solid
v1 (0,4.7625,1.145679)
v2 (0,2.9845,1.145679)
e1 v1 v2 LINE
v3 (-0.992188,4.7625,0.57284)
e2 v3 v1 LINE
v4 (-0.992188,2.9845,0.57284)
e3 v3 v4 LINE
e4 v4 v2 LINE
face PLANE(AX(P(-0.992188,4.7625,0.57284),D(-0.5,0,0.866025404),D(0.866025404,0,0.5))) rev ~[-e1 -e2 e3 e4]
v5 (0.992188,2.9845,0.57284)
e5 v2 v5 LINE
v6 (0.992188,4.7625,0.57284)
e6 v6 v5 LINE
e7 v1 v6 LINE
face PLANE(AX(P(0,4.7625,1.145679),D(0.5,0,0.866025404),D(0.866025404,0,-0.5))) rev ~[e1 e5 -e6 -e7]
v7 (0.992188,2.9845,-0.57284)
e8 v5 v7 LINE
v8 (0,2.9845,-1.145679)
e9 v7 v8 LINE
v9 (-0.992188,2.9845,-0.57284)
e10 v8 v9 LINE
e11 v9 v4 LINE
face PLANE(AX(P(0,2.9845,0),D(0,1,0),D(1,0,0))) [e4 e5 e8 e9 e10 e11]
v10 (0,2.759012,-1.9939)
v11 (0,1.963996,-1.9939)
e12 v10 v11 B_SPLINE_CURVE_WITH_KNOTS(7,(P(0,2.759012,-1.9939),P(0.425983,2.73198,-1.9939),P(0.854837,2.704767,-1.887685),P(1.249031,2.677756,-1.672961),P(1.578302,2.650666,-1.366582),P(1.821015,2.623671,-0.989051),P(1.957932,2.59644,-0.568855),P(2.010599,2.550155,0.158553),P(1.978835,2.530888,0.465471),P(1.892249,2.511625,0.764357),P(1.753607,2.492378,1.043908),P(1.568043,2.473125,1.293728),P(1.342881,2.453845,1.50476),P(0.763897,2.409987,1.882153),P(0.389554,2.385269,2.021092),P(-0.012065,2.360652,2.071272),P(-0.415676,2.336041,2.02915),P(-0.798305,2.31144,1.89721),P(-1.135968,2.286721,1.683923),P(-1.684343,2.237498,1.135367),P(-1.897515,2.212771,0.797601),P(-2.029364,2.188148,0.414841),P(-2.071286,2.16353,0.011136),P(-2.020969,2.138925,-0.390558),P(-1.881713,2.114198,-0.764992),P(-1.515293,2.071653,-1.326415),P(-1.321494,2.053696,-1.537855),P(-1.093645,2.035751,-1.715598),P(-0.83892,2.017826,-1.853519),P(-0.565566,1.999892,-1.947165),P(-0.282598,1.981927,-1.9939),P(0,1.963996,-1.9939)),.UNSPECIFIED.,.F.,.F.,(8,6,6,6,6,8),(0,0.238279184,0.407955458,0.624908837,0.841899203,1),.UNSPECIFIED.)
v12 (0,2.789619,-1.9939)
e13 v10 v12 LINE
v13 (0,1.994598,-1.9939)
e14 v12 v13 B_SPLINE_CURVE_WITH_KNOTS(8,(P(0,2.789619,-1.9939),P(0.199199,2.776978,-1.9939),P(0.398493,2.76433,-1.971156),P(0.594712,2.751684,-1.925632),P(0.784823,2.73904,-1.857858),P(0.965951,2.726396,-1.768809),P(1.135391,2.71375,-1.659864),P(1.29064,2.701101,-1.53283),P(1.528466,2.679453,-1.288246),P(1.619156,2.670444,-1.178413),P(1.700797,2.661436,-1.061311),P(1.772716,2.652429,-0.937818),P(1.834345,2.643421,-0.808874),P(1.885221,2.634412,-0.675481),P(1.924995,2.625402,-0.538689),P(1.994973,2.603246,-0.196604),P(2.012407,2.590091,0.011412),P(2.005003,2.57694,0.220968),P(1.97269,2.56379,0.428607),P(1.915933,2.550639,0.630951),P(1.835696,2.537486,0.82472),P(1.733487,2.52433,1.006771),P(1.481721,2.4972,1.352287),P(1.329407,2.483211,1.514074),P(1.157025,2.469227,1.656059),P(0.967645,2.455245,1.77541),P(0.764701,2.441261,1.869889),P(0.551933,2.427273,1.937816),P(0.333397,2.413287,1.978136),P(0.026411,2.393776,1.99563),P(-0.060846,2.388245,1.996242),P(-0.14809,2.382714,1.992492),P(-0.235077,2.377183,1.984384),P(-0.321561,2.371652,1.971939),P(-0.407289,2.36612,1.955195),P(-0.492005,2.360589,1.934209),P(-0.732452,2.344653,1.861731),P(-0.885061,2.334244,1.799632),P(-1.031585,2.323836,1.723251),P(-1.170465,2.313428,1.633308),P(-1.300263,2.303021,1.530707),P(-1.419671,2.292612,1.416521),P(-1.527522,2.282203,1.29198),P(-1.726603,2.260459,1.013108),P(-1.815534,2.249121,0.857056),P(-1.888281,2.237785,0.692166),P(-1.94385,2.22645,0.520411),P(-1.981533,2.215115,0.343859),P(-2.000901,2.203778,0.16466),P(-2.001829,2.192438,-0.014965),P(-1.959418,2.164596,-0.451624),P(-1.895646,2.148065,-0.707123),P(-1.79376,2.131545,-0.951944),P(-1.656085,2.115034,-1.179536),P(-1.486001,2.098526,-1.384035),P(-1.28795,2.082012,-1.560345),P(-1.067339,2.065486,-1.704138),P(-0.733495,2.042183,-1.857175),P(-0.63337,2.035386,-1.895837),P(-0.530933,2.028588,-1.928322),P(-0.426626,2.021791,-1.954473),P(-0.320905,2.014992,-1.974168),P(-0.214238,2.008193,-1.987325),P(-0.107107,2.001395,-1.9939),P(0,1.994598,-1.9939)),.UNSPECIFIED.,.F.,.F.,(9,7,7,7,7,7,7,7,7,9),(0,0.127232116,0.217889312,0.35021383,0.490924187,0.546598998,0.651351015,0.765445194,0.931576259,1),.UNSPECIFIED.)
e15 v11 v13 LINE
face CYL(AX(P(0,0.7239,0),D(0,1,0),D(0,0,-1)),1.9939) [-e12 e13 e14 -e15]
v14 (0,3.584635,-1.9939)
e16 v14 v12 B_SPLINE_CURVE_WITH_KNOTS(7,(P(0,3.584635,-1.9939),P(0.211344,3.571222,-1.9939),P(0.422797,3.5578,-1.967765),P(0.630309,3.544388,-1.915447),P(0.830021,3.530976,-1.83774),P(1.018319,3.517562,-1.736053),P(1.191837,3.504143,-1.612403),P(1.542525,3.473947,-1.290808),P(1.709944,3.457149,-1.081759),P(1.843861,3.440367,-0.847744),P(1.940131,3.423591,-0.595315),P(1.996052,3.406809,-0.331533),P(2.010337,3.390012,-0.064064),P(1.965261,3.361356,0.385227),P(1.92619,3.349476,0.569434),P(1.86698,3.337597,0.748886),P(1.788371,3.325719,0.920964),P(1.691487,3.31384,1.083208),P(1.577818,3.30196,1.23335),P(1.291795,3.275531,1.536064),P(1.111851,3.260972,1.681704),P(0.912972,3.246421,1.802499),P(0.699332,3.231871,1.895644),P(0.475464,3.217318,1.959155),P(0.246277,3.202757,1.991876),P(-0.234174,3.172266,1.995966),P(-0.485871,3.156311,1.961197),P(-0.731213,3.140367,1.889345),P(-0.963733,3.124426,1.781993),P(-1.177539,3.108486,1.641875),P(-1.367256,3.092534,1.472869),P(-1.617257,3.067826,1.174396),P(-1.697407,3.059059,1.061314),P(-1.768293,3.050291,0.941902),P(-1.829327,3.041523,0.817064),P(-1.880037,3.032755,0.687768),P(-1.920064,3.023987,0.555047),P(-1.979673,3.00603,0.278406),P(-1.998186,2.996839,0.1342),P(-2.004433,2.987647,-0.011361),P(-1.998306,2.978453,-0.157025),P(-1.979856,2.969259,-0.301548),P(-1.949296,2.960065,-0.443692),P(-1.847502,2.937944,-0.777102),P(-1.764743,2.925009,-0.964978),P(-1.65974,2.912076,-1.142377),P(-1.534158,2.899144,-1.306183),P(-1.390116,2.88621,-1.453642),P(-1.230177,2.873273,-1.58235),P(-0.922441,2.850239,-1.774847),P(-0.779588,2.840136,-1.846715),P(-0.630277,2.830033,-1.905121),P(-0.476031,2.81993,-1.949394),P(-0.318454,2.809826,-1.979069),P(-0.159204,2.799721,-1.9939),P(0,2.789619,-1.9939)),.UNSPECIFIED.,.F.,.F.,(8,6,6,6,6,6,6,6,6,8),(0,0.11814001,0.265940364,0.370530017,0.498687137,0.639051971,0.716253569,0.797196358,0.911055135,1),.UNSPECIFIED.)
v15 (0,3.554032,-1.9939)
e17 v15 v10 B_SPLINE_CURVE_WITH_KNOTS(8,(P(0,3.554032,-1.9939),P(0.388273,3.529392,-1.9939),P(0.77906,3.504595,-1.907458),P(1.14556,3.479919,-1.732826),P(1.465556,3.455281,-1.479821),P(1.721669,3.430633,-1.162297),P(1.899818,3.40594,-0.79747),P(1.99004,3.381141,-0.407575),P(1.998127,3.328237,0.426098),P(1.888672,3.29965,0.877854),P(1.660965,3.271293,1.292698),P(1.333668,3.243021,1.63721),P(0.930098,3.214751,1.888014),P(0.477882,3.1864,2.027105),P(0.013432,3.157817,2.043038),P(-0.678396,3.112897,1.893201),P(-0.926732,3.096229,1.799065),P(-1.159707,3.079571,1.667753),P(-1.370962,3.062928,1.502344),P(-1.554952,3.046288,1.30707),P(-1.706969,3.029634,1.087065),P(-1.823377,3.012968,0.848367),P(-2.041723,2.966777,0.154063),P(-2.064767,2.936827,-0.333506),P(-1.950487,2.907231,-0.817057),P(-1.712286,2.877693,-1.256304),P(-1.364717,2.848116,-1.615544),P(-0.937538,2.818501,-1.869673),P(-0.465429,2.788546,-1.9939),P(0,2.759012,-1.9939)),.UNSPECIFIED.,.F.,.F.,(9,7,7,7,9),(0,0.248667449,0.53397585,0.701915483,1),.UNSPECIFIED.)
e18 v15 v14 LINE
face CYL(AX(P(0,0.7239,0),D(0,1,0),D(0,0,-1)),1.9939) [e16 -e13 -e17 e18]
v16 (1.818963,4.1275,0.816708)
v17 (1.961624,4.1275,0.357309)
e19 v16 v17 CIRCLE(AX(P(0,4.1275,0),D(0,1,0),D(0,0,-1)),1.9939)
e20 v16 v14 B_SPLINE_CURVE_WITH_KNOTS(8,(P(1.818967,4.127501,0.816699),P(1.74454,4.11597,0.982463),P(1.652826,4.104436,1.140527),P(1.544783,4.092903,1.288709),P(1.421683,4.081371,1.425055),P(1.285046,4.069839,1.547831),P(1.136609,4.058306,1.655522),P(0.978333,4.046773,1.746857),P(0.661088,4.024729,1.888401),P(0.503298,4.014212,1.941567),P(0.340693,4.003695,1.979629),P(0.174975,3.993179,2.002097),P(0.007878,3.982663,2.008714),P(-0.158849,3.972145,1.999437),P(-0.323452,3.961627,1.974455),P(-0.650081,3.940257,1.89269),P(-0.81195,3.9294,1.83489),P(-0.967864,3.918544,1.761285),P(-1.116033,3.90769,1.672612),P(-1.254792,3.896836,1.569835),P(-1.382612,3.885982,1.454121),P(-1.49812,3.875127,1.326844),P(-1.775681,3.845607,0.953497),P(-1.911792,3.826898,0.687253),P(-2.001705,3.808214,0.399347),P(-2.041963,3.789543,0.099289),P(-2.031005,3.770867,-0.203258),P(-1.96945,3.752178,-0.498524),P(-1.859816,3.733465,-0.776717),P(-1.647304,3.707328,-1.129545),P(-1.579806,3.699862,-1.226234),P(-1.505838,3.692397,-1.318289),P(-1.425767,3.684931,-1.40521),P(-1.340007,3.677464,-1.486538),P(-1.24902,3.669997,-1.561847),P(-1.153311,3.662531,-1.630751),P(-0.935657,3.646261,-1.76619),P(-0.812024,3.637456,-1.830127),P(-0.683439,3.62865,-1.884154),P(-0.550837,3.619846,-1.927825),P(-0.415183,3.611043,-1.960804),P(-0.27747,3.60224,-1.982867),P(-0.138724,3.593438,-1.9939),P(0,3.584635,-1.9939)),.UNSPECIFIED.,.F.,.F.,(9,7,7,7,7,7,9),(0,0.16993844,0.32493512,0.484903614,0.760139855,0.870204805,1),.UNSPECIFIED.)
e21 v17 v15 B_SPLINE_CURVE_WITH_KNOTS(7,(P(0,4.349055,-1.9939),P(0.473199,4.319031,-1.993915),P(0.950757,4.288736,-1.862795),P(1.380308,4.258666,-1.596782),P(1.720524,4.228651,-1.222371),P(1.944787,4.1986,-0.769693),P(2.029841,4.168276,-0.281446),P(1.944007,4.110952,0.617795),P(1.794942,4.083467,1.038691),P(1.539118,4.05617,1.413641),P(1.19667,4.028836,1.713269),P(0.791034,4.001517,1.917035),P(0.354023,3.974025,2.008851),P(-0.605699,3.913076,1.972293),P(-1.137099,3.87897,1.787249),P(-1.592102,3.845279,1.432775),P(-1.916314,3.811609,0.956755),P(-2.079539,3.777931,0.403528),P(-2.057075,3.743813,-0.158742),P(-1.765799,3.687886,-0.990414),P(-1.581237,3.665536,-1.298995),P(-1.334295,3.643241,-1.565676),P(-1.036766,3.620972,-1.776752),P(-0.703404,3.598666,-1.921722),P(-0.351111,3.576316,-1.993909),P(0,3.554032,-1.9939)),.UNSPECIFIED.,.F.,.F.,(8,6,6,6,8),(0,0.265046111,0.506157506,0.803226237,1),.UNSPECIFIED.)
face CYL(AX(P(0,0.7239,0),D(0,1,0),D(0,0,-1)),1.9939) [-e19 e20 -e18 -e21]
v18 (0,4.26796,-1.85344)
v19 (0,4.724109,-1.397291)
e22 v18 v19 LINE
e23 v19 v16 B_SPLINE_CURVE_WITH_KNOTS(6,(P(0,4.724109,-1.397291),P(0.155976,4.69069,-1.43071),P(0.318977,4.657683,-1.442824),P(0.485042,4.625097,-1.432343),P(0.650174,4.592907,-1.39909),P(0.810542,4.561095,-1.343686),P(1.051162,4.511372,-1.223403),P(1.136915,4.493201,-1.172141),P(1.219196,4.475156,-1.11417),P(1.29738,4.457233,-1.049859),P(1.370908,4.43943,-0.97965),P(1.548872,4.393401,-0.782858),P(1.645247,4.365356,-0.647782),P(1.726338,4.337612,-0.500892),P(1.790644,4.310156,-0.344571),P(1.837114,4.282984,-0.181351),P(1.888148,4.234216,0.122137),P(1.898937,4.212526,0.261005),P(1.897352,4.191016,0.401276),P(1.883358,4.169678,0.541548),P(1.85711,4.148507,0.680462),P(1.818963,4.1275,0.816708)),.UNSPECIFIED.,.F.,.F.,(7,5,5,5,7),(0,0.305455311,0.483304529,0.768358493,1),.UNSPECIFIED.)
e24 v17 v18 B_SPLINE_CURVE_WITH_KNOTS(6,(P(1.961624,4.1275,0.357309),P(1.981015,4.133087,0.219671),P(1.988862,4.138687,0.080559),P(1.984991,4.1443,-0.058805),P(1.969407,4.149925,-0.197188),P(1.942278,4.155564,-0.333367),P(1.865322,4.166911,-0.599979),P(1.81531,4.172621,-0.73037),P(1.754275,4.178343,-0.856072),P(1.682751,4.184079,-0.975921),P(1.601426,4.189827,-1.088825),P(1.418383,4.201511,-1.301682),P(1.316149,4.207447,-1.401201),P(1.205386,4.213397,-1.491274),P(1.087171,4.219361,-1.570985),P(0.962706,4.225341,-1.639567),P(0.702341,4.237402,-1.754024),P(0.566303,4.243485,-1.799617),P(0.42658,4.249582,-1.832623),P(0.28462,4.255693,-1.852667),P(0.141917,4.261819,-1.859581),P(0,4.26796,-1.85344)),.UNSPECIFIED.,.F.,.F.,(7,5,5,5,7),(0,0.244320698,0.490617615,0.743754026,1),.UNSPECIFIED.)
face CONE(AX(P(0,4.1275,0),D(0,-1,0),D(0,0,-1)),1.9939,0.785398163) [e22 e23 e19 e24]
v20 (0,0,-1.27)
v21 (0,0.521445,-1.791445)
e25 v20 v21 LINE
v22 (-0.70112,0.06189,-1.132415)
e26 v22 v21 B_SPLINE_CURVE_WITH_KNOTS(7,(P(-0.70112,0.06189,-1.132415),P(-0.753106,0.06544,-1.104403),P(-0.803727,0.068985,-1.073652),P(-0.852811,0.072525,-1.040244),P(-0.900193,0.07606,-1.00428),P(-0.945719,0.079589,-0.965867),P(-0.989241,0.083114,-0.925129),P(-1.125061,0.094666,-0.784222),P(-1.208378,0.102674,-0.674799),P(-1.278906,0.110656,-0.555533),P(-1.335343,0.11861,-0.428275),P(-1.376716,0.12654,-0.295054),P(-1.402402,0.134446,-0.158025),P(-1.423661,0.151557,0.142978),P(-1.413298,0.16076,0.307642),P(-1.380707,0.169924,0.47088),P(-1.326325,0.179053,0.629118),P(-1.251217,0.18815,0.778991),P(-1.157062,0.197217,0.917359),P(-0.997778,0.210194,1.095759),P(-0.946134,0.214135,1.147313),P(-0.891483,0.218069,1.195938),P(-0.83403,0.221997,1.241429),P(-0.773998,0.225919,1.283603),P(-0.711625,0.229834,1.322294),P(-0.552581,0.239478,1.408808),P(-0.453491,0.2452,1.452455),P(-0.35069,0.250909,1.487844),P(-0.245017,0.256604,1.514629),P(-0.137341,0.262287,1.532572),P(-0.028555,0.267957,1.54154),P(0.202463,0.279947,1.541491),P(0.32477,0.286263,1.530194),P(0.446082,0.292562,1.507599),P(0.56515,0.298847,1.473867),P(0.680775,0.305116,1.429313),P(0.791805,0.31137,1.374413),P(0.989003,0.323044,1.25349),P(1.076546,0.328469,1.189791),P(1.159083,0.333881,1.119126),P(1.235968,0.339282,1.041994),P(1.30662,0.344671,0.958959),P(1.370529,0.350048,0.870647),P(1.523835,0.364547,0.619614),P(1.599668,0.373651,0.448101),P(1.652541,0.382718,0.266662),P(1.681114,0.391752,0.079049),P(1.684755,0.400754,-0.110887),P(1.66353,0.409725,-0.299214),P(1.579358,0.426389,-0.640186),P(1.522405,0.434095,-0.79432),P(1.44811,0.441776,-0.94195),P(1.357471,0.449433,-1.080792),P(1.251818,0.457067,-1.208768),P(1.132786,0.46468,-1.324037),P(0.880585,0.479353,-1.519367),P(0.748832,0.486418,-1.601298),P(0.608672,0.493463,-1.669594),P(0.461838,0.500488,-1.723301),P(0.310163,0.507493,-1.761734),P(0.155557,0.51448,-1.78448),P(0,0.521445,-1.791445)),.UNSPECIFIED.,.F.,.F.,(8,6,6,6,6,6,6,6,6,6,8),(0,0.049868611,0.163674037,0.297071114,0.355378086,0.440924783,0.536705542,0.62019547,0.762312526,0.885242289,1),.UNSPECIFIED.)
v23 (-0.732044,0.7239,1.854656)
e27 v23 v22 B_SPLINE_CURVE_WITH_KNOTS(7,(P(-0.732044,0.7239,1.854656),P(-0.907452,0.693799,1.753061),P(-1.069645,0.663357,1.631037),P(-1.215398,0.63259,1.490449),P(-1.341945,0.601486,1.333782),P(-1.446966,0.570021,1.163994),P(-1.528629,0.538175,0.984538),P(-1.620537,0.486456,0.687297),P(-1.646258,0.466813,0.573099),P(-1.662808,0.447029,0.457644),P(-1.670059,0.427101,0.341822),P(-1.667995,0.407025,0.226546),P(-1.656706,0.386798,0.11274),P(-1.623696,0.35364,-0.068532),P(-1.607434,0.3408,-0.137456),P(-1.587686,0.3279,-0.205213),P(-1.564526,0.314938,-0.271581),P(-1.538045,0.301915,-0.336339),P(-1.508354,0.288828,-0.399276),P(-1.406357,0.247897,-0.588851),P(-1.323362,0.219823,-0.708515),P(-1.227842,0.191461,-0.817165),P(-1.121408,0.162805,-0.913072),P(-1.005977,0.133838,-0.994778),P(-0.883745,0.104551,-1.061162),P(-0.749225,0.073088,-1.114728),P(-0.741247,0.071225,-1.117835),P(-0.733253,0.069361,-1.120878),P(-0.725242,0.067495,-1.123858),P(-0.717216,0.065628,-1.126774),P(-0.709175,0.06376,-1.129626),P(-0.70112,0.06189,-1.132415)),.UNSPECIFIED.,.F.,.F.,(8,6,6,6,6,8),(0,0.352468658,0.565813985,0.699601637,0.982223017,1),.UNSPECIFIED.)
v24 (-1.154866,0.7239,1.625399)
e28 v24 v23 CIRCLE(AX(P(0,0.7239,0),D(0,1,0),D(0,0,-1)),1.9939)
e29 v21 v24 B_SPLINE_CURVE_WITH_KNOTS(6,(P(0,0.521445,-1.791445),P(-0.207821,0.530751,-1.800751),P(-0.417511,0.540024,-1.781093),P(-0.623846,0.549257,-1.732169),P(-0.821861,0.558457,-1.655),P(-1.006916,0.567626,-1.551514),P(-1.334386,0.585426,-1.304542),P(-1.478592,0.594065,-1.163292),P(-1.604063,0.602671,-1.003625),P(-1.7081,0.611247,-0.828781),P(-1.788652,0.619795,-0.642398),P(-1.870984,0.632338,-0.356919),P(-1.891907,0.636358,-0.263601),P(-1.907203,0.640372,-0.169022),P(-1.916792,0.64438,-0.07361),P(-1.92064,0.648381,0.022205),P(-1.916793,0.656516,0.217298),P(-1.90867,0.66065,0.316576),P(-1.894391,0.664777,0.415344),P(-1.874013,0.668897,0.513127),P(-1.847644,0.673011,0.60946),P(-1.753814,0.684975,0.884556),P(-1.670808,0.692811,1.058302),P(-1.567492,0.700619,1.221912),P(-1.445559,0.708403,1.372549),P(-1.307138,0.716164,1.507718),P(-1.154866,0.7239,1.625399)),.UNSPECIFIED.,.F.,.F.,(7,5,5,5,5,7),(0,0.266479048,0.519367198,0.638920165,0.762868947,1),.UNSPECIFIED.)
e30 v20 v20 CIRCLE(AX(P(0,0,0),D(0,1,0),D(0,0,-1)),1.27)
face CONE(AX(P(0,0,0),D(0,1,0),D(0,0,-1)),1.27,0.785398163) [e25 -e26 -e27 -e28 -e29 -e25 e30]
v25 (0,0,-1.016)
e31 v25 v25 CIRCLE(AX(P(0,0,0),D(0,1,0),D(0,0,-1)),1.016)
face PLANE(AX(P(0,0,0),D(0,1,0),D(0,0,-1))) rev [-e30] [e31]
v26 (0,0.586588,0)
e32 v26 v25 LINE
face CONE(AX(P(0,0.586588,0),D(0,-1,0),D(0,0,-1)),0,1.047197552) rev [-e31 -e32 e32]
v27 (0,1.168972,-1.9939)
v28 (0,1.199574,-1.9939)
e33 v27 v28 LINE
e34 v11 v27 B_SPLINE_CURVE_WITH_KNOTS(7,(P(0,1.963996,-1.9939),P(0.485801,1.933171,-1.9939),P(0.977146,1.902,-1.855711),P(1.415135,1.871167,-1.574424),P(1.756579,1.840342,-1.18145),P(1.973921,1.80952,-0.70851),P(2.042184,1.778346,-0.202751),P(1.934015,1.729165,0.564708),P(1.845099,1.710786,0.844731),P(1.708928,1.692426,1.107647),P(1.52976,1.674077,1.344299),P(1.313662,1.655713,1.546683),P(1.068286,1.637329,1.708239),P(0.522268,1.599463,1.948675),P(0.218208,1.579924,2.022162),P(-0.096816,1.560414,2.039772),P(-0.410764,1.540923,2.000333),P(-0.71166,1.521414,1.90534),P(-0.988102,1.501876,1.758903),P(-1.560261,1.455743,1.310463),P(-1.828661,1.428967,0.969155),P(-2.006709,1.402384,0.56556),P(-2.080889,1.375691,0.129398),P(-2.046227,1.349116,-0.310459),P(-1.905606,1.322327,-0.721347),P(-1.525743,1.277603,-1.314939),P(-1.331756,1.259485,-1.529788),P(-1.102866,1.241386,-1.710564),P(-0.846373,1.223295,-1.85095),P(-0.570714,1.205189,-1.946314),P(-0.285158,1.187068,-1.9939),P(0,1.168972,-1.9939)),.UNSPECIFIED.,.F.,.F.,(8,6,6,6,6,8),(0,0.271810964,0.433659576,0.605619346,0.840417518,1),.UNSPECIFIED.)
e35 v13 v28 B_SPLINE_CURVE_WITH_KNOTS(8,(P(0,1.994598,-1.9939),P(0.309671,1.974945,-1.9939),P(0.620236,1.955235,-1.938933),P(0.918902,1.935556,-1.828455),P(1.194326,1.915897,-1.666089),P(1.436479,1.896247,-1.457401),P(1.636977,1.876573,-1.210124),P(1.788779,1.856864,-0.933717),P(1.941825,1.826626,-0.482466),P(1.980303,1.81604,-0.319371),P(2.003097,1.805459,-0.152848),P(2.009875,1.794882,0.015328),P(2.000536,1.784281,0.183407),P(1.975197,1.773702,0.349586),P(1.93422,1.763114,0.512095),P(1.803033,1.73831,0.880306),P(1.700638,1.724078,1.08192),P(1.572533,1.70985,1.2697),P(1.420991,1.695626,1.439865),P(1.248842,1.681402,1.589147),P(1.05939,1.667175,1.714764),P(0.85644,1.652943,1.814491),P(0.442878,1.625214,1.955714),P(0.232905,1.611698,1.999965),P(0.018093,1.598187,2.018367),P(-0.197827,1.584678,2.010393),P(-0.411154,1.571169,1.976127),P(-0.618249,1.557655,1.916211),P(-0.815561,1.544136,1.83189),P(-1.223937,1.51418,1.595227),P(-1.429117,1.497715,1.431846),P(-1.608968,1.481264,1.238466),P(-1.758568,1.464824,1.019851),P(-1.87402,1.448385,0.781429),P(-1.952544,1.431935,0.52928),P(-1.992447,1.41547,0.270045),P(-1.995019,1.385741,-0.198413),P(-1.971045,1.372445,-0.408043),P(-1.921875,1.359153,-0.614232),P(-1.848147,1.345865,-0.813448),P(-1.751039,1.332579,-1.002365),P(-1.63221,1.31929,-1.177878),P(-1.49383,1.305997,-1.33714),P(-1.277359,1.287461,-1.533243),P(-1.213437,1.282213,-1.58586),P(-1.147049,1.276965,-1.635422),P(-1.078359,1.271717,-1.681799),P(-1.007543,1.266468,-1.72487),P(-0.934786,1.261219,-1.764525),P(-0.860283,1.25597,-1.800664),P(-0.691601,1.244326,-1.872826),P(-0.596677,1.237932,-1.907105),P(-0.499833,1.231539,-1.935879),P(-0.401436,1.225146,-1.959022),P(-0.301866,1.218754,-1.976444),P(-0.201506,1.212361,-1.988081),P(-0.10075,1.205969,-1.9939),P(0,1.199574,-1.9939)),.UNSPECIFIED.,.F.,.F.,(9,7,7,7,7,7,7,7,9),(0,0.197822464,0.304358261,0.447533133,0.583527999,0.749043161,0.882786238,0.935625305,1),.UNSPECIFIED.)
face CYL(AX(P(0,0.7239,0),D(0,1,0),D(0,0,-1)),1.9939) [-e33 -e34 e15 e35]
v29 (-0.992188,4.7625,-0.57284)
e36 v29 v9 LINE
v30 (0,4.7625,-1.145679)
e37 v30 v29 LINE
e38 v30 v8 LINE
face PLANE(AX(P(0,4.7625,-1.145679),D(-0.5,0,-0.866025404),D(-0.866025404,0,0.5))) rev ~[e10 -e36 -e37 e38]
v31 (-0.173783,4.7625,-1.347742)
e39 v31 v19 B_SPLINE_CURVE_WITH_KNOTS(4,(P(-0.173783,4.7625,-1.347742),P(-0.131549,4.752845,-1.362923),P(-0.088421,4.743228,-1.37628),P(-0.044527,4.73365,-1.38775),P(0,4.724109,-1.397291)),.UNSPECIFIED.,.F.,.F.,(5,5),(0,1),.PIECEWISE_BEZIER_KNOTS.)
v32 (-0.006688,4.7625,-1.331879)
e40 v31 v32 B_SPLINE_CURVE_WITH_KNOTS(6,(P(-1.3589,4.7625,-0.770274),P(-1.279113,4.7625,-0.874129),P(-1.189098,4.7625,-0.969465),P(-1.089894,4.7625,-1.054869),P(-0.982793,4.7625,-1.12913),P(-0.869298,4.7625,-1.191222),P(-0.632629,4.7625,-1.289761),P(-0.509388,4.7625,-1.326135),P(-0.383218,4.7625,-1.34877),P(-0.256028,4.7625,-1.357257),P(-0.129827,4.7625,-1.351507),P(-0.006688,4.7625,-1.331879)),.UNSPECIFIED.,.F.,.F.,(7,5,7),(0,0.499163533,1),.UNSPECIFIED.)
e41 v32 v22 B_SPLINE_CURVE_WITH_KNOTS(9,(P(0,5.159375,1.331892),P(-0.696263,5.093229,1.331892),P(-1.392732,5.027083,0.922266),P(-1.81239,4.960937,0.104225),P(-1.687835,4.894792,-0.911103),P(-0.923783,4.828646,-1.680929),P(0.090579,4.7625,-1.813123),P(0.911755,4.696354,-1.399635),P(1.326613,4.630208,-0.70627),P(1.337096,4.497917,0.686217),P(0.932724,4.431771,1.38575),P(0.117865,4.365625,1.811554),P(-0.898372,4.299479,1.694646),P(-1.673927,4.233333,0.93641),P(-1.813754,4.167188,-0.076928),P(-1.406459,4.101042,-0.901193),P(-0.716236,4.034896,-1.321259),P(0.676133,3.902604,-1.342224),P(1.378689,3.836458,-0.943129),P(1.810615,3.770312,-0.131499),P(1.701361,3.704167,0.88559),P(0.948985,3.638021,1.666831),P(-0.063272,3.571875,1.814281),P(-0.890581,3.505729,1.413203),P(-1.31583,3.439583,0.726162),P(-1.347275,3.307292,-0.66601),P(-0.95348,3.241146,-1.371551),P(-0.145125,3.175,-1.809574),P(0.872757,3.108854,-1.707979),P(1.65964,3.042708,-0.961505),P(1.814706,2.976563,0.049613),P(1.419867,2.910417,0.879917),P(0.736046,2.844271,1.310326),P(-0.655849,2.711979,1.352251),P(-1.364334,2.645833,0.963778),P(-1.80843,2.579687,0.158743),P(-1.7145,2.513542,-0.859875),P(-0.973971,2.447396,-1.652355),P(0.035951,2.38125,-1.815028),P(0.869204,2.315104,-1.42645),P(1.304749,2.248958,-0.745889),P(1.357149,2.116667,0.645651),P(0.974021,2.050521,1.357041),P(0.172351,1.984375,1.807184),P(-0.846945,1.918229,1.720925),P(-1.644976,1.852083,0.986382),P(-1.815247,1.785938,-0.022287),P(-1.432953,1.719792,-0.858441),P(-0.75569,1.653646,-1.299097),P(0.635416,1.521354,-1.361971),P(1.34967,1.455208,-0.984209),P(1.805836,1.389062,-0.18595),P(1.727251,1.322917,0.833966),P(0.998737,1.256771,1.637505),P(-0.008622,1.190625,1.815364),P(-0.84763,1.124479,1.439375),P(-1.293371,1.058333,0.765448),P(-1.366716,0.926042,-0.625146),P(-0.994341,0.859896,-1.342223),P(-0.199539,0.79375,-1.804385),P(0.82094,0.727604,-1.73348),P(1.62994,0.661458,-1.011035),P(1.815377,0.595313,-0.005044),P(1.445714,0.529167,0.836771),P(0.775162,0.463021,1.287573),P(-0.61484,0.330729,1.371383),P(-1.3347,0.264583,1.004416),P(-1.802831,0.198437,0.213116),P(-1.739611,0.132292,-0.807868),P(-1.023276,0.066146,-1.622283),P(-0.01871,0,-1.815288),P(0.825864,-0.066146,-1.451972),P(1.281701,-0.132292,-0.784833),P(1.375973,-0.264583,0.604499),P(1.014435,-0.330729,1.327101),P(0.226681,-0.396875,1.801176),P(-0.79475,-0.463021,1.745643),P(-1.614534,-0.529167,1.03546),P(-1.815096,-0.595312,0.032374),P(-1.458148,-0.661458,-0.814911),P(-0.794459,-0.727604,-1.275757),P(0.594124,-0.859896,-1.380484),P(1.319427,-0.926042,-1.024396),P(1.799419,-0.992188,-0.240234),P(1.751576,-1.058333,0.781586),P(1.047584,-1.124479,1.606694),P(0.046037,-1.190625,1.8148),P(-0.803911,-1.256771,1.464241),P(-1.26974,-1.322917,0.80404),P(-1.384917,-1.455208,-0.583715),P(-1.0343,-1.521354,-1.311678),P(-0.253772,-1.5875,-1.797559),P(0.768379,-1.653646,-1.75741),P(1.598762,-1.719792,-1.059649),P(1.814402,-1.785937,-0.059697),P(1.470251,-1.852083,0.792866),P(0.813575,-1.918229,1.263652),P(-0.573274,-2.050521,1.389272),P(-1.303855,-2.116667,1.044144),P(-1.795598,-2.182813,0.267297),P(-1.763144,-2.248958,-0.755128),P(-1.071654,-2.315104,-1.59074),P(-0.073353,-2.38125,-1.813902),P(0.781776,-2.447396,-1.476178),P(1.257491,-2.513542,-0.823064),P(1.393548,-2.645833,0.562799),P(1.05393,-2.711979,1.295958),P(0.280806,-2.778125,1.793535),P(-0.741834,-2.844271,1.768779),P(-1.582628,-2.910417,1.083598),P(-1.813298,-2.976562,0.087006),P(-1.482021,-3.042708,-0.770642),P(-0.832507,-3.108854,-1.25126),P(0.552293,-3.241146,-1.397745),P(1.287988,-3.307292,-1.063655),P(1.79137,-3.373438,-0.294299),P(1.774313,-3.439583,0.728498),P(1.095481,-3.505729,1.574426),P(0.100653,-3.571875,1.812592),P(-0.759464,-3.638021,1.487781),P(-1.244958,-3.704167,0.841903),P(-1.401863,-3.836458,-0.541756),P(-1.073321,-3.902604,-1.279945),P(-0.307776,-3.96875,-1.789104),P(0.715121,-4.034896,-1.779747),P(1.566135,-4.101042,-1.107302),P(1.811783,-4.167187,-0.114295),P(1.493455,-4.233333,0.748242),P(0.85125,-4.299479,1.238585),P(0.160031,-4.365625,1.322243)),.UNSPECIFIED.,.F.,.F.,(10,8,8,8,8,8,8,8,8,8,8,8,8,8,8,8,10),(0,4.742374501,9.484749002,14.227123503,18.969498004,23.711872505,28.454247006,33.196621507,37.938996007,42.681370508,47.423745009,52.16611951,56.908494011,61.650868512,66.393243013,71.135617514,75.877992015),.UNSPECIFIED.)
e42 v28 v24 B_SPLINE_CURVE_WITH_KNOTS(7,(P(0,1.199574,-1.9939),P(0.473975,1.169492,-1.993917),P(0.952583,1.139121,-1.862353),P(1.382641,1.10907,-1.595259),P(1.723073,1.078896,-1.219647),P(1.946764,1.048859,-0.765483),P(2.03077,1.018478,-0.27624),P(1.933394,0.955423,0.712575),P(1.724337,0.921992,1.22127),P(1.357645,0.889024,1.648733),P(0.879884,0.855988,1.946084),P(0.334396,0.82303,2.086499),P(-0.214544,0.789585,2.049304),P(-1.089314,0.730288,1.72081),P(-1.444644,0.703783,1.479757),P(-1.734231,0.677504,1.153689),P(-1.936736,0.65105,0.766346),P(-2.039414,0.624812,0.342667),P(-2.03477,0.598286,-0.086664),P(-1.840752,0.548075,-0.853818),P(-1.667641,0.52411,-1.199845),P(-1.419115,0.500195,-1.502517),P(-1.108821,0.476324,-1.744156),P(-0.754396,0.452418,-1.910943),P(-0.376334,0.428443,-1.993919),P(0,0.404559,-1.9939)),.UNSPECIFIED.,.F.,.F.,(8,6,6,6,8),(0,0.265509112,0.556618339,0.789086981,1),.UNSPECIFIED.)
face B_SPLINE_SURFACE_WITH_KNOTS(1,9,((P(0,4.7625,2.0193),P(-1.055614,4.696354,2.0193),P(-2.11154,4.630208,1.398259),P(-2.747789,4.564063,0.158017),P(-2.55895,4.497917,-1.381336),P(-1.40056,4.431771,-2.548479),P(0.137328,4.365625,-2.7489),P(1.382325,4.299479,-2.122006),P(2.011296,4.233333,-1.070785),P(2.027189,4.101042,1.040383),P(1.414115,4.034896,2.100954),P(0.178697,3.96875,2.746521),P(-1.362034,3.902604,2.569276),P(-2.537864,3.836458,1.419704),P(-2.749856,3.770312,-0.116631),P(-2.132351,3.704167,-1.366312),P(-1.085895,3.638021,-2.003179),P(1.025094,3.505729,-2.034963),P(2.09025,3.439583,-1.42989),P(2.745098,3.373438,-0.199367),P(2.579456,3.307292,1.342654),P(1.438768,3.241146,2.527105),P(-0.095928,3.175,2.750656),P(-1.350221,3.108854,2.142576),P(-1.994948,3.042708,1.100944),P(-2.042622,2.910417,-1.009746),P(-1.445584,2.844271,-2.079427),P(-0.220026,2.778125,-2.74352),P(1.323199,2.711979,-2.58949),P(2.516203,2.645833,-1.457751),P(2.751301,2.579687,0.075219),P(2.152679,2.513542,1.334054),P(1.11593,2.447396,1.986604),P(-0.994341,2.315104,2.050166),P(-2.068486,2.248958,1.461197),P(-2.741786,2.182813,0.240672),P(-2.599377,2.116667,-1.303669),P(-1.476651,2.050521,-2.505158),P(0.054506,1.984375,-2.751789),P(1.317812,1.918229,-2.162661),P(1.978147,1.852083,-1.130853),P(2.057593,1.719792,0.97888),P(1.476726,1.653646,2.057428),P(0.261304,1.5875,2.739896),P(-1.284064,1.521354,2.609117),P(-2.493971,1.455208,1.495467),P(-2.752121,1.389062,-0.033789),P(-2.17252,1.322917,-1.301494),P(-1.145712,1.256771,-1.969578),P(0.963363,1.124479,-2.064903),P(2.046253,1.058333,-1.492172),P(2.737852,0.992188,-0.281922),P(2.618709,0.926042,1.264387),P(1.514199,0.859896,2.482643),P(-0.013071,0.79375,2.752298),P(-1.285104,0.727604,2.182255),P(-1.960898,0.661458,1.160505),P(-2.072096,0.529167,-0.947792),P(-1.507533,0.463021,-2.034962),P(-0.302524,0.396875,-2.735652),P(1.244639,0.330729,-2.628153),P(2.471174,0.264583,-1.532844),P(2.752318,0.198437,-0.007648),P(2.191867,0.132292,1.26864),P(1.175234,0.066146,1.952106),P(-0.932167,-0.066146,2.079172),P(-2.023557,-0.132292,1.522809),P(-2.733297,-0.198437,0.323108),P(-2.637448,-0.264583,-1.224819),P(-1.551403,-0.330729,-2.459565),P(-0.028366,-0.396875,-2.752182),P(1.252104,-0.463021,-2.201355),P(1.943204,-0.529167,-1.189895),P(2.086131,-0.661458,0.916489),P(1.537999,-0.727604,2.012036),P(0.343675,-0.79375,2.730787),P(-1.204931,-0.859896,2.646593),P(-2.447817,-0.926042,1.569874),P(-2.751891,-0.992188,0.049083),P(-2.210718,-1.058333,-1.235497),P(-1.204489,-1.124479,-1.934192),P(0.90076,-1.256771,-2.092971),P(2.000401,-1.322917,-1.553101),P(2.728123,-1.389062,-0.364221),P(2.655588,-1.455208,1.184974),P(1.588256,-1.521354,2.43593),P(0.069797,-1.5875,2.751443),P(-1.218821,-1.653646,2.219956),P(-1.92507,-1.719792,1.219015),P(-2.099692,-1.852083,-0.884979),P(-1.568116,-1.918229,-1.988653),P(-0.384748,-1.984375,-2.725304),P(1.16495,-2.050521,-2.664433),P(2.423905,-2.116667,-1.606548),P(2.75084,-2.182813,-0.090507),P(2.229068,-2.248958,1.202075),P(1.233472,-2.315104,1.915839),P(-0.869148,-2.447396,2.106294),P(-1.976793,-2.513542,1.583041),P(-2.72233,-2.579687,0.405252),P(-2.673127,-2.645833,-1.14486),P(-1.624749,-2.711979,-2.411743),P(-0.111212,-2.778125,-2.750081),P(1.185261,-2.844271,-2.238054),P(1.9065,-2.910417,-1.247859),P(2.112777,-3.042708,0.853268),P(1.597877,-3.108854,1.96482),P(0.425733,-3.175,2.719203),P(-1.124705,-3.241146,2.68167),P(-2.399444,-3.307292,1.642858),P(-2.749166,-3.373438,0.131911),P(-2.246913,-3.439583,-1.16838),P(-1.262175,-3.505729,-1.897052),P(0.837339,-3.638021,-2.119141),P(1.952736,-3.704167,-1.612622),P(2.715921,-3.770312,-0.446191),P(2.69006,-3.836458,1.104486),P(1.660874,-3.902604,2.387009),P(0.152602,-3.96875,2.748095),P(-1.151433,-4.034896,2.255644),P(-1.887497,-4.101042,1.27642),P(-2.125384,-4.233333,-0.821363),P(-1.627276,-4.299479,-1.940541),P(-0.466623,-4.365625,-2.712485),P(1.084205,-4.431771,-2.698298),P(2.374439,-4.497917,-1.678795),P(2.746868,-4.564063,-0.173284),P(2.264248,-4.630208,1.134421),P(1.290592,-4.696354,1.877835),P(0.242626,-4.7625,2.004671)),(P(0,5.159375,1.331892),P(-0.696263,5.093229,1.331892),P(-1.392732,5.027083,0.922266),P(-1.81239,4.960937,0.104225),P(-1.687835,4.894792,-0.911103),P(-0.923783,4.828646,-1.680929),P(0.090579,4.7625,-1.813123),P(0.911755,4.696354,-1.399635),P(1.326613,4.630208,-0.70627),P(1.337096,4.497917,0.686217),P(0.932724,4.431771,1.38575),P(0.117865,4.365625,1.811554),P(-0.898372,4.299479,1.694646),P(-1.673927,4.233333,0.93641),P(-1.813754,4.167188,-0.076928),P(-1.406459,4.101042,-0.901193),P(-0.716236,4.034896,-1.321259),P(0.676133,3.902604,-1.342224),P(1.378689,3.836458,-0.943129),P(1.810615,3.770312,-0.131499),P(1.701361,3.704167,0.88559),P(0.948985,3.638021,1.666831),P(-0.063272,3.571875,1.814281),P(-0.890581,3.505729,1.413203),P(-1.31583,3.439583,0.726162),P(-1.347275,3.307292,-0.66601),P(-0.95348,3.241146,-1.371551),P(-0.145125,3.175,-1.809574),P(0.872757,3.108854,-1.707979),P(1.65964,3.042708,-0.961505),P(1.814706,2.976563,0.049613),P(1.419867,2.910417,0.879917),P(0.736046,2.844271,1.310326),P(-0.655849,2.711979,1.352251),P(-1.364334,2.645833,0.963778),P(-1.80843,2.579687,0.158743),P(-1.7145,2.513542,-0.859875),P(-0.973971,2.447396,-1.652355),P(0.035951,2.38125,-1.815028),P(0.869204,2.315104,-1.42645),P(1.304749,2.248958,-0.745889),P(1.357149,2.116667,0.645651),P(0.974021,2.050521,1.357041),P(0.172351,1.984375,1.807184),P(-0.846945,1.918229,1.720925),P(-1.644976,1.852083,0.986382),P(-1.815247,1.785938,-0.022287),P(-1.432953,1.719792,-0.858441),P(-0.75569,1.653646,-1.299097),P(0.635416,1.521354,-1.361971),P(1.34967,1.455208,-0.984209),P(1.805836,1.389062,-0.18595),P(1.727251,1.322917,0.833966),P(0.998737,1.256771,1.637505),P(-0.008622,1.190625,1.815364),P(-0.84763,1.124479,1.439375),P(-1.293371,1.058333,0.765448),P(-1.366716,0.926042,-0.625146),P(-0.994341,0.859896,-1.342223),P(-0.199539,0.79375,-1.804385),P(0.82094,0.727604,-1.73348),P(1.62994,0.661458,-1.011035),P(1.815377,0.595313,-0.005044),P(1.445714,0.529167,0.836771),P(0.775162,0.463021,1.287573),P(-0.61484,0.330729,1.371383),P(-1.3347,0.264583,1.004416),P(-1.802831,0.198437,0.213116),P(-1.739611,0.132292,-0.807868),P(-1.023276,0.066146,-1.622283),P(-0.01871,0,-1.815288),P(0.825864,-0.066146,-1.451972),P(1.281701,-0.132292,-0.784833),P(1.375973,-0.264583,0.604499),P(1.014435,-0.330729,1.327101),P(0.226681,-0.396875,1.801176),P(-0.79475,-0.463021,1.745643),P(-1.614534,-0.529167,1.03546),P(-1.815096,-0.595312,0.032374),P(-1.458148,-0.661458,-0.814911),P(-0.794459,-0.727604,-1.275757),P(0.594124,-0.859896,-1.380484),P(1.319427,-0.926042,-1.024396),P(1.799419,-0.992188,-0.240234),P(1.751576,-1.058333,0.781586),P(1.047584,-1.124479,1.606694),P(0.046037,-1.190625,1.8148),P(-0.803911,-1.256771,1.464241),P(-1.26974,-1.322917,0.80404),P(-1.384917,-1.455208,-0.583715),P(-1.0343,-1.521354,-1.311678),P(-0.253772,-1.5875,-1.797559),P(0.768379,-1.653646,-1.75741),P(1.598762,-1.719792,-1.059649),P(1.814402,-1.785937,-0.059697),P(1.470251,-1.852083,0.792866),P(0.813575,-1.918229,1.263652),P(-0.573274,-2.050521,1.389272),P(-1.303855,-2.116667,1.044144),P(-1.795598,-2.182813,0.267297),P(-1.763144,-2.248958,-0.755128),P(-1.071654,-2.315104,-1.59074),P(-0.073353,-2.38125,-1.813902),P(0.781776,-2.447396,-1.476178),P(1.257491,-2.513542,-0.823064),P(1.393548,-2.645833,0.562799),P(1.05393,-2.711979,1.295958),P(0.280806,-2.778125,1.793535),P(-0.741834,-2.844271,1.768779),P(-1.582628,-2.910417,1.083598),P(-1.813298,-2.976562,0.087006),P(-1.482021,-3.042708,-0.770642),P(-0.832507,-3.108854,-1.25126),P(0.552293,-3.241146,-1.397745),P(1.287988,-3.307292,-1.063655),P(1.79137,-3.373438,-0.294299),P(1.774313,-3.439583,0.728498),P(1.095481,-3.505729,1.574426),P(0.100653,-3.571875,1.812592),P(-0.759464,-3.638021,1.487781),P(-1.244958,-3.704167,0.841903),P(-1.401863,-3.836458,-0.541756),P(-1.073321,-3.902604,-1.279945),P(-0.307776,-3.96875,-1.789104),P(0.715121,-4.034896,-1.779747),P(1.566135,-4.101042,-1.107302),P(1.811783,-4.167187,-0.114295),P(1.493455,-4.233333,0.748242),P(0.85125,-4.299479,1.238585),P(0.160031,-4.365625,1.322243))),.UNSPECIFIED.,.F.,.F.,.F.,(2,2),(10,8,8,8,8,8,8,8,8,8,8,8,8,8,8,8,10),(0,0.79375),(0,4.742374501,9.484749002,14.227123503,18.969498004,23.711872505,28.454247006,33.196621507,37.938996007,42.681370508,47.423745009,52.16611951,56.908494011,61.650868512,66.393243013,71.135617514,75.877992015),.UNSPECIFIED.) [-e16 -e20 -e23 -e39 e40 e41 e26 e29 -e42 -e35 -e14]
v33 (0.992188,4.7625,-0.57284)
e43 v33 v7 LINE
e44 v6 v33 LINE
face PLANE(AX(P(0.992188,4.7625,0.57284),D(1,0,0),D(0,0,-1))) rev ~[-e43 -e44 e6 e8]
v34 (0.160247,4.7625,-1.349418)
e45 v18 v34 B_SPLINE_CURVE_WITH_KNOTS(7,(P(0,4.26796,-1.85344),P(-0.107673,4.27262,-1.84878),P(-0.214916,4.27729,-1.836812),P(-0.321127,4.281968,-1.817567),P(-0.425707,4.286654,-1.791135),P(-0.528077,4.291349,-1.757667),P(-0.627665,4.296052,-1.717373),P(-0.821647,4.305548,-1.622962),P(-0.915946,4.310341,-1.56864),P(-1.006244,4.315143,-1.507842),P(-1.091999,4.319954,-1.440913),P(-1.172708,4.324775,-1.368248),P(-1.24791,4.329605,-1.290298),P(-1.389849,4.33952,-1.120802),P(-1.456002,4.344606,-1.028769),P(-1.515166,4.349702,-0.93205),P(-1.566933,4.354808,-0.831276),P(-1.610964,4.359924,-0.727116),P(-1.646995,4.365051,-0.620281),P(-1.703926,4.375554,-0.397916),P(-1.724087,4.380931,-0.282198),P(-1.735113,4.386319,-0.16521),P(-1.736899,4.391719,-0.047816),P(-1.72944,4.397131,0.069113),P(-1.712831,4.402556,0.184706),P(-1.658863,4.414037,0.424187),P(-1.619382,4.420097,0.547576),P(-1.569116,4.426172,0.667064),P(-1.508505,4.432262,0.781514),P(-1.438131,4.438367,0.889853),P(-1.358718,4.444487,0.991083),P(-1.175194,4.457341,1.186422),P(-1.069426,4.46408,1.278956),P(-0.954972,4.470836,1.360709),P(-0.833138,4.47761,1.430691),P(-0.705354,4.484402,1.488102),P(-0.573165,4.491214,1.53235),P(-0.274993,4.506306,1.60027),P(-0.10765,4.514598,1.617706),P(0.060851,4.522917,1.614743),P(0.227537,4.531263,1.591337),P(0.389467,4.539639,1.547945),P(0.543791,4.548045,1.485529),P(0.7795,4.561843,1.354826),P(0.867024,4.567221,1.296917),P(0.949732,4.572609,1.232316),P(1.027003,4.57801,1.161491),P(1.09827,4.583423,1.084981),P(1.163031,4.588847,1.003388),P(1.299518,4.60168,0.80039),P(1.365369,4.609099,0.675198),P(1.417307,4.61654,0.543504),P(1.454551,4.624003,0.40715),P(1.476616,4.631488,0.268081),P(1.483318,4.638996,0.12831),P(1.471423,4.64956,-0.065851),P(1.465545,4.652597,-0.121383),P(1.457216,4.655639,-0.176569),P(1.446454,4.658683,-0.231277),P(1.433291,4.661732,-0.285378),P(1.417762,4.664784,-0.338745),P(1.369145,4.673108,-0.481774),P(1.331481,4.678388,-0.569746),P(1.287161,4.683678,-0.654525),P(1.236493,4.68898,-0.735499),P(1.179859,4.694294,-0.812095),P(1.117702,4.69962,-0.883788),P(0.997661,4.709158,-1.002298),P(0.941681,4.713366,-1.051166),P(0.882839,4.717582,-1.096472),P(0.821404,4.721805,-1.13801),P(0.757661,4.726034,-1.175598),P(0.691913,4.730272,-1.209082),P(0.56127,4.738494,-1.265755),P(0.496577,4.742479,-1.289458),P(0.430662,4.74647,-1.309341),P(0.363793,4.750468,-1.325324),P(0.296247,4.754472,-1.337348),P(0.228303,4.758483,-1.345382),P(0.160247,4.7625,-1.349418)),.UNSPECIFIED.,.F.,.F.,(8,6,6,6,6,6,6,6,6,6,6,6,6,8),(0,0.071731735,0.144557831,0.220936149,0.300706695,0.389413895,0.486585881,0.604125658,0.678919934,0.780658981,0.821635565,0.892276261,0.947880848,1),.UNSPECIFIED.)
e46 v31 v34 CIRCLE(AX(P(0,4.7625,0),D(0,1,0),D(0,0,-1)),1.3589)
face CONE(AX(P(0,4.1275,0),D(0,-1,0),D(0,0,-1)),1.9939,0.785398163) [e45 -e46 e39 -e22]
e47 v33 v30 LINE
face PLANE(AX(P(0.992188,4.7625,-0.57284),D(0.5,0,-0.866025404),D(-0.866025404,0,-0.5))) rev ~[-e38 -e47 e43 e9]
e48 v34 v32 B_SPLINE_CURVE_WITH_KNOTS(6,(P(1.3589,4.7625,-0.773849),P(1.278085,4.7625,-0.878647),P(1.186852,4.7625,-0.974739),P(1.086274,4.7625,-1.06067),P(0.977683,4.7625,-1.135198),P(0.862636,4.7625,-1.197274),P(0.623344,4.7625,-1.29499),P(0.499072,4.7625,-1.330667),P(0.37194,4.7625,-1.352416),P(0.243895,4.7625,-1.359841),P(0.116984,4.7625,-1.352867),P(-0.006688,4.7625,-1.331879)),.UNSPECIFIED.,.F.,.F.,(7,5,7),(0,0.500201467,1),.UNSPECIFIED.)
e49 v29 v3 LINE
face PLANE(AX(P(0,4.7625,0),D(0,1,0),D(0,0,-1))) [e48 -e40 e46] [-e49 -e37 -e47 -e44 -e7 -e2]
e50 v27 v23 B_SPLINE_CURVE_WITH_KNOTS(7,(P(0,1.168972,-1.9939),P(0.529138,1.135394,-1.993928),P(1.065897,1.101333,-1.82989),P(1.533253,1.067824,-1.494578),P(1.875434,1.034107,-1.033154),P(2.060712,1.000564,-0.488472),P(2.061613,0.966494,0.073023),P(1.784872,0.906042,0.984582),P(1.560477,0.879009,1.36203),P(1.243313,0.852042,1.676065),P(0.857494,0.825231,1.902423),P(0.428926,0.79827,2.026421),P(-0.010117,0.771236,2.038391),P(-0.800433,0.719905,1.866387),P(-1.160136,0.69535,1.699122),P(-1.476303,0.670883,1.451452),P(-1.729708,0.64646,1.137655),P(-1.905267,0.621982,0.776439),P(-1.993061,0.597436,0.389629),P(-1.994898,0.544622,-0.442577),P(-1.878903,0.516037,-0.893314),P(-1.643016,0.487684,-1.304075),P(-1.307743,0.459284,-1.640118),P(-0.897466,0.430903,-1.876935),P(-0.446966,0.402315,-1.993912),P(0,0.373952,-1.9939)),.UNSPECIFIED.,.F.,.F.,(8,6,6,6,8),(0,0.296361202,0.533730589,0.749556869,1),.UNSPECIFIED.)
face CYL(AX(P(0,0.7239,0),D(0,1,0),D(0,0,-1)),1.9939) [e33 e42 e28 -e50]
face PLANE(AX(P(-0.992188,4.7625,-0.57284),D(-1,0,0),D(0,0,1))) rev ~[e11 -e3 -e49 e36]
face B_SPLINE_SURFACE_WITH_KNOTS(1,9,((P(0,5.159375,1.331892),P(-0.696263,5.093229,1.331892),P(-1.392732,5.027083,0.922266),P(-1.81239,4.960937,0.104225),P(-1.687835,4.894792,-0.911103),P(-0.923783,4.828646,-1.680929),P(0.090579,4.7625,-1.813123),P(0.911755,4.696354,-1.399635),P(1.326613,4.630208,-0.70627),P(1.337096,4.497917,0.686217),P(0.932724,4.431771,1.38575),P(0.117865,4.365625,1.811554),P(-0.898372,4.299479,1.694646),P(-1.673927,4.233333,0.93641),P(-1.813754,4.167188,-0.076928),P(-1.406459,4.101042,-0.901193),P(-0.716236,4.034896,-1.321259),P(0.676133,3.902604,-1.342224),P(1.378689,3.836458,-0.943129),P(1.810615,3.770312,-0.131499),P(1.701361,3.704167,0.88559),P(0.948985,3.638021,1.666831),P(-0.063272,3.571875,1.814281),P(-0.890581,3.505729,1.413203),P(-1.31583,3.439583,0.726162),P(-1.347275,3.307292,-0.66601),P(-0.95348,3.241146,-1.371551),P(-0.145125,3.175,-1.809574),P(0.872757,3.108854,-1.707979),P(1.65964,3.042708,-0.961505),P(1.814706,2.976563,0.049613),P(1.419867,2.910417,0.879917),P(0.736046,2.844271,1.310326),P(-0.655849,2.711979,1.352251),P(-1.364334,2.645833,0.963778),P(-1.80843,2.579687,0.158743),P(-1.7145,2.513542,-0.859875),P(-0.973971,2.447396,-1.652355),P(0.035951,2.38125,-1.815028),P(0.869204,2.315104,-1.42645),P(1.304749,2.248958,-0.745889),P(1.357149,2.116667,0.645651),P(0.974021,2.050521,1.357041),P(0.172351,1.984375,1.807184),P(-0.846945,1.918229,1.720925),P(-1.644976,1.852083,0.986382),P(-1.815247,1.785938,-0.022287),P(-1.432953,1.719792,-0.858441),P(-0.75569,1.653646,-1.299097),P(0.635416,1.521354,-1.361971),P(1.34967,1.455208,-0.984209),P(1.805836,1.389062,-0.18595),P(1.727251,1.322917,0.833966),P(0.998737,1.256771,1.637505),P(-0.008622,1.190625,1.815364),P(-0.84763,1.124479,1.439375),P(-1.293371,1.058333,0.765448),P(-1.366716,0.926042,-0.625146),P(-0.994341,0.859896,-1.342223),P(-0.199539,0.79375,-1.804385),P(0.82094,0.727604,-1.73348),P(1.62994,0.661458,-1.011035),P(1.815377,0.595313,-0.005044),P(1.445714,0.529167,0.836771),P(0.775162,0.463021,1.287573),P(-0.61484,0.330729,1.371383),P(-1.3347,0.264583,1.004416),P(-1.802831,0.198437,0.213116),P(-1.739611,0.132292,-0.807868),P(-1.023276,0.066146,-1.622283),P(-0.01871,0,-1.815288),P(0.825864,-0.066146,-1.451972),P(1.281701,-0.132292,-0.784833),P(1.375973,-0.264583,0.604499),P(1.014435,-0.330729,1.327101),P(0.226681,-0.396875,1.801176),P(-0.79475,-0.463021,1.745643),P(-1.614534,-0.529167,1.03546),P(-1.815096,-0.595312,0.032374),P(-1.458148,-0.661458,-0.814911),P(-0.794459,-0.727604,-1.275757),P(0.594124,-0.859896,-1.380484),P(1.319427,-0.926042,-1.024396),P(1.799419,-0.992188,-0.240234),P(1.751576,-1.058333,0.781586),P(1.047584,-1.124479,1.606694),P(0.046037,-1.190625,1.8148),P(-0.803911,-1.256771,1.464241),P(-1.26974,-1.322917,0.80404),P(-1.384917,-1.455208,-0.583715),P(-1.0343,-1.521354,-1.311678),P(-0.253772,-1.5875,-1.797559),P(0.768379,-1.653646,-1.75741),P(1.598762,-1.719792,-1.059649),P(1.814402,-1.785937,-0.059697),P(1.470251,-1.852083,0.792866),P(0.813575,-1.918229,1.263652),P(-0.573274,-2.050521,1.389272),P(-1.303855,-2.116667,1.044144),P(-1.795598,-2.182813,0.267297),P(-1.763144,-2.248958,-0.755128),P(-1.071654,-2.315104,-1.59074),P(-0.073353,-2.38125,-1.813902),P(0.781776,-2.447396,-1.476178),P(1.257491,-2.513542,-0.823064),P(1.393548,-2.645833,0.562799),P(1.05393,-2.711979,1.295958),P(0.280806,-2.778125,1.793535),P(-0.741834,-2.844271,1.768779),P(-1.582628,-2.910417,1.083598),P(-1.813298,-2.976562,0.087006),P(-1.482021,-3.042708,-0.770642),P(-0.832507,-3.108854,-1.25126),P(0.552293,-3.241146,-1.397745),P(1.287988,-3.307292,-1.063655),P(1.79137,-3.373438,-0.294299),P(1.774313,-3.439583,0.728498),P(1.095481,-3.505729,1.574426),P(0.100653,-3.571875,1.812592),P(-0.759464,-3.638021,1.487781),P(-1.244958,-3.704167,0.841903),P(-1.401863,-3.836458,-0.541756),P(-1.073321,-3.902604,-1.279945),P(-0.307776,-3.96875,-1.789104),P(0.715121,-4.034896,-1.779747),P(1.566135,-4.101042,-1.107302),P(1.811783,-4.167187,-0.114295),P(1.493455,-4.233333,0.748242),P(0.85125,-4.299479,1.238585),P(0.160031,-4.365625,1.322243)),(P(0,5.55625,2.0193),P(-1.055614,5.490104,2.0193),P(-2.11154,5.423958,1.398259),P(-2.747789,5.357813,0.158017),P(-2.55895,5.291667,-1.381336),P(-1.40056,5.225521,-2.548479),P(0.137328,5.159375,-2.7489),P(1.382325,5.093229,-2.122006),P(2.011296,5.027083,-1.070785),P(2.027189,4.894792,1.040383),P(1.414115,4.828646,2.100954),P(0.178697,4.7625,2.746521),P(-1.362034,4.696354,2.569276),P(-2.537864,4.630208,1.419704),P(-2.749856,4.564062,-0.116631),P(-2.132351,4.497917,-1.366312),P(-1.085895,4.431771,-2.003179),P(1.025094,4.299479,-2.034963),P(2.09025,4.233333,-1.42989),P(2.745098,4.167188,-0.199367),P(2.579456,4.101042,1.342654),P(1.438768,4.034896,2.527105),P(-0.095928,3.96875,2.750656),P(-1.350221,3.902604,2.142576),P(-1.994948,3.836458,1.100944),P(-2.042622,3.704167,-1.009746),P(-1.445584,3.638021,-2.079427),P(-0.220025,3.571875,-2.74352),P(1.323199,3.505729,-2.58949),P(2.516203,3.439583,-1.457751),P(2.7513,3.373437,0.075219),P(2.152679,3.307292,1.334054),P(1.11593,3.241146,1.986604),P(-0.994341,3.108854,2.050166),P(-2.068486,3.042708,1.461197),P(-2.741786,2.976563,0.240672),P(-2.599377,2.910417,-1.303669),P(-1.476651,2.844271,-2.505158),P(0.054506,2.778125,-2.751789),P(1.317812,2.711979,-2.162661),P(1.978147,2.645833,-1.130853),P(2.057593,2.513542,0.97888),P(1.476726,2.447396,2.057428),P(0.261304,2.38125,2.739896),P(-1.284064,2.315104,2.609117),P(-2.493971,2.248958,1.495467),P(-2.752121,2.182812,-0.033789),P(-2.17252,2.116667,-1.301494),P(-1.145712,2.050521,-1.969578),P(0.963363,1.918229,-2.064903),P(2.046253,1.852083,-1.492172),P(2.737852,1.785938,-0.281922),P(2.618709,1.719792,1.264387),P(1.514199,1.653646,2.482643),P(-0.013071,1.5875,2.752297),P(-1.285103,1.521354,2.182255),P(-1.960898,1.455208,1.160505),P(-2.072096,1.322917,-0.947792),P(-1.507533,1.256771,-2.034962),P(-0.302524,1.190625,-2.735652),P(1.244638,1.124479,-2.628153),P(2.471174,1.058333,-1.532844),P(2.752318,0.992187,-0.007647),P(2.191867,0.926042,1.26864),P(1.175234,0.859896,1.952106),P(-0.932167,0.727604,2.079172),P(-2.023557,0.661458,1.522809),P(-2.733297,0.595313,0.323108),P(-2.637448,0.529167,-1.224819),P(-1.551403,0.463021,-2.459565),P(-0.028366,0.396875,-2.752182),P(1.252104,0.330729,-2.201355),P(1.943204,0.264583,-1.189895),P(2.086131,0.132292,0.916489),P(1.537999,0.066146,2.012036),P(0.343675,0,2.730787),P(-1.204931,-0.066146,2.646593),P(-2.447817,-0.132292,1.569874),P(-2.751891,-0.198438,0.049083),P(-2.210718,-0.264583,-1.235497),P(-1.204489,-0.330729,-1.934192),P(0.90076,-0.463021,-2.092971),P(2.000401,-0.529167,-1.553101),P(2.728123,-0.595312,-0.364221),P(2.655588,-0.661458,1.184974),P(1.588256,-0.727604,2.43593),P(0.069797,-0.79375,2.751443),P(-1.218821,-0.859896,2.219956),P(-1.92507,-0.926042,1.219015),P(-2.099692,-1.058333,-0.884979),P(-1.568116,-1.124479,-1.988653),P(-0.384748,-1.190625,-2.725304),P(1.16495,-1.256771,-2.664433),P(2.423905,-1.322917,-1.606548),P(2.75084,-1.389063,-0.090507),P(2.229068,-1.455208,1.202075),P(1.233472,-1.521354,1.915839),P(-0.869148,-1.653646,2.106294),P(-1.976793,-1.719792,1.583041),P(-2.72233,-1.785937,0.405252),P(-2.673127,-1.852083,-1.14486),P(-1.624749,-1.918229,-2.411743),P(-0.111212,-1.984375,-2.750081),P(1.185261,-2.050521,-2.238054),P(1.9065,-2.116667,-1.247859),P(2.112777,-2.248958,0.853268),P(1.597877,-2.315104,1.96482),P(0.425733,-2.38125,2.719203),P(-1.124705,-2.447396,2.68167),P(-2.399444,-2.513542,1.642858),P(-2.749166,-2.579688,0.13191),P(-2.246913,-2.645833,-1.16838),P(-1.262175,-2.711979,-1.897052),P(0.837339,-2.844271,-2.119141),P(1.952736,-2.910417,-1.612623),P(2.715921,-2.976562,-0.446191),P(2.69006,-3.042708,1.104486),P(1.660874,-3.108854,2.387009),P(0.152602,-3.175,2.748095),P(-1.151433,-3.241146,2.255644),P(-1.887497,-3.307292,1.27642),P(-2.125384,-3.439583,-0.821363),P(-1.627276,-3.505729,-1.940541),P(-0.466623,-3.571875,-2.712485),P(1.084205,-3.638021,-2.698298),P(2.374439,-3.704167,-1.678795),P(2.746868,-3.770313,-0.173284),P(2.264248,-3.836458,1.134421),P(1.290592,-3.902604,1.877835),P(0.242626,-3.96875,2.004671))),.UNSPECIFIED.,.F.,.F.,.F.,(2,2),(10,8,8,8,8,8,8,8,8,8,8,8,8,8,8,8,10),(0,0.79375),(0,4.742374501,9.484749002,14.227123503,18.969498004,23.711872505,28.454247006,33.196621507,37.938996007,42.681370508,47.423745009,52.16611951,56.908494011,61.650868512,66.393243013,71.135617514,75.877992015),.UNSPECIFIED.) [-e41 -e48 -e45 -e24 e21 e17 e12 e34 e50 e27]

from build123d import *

# Parameters (mm, degrees)
CUT_EXTRUDE1_DEPTH     = 1.778
CUT_SWEEP3_PITCH       = 0.79502
CUT_SWEEP3_HEIGHT      = 9.525
CUT_SWEEP3_RADIUS      = 1.9939
CUT_SWEEP3_START_ANGLE = -180


with BuildPart() as part:
    # Sketch1 → Revolve1 (revolve)
    with BuildSketch(Plane.XY, mode=Mode.PRIVATE) as revolve1_sk:
        Polygon((0, 0.586587873), (-1.016, 0), (-1.27, 0), (-1.9939, 0.7239), (-1.9939, 4.1275), (-1.3589, 4.7625), (0, 4.7625), align=None)
    revolve(revolve1_sk.sketch.rotate(Axis((0, 0, 0), (0, 1, 0)), 270), axis=Axis((0, 0, 0), (0, 1, 0)))

    # Sketch2 → Cut-Extrude1 (cut)
    with BuildSketch(Plane(origin=(0, 4.7625, 0), x_dir=(1, 0, 0), z_dir=(0, 1, 0))):
        Polygon((0, 1.14567944), (-0.9921875, 0.57283972), (-0.9921875, -0.57283972), (0, -1.14567944), (0.9921875, -0.57283972), (0.9921875, 0.57283972), align=None)
    extrude(amount=-CUT_EXTRUDE1_DEPTH, mode=Mode.SUBTRACT)

    # Cut-Sweep3: sweep along a helix
    with BuildLine() as cut_sweep3_path:
        add(Helix(CUT_SWEEP3_PITCH, CUT_SWEEP3_HEIGHT, CUT_SWEEP3_RADIUS, center=(0, 4.7625, 0), direction=(0, -1, 0), mode=Mode.PRIVATE).rotate(Axis((0, 4.7625, 0), (0, -1, 0)), CUT_SWEEP3_START_ANGLE))
    # Sketch4 → Cut-Sweep3 (sweep, cut)
    with BuildSketch(Plane(origin=(0, 0, 0), x_dir=(0, 0, -1), z_dir=(1, 0, 0))):
        Polygon((-2.0193, 5.55625), (-2.0193, 4.7625), (-1.331892336, 5.159375), align=None)
    sweep(path=cut_sweep3_path.line, is_frenet=True, mode=Mode.SUBTRACT)


solid = part.part
